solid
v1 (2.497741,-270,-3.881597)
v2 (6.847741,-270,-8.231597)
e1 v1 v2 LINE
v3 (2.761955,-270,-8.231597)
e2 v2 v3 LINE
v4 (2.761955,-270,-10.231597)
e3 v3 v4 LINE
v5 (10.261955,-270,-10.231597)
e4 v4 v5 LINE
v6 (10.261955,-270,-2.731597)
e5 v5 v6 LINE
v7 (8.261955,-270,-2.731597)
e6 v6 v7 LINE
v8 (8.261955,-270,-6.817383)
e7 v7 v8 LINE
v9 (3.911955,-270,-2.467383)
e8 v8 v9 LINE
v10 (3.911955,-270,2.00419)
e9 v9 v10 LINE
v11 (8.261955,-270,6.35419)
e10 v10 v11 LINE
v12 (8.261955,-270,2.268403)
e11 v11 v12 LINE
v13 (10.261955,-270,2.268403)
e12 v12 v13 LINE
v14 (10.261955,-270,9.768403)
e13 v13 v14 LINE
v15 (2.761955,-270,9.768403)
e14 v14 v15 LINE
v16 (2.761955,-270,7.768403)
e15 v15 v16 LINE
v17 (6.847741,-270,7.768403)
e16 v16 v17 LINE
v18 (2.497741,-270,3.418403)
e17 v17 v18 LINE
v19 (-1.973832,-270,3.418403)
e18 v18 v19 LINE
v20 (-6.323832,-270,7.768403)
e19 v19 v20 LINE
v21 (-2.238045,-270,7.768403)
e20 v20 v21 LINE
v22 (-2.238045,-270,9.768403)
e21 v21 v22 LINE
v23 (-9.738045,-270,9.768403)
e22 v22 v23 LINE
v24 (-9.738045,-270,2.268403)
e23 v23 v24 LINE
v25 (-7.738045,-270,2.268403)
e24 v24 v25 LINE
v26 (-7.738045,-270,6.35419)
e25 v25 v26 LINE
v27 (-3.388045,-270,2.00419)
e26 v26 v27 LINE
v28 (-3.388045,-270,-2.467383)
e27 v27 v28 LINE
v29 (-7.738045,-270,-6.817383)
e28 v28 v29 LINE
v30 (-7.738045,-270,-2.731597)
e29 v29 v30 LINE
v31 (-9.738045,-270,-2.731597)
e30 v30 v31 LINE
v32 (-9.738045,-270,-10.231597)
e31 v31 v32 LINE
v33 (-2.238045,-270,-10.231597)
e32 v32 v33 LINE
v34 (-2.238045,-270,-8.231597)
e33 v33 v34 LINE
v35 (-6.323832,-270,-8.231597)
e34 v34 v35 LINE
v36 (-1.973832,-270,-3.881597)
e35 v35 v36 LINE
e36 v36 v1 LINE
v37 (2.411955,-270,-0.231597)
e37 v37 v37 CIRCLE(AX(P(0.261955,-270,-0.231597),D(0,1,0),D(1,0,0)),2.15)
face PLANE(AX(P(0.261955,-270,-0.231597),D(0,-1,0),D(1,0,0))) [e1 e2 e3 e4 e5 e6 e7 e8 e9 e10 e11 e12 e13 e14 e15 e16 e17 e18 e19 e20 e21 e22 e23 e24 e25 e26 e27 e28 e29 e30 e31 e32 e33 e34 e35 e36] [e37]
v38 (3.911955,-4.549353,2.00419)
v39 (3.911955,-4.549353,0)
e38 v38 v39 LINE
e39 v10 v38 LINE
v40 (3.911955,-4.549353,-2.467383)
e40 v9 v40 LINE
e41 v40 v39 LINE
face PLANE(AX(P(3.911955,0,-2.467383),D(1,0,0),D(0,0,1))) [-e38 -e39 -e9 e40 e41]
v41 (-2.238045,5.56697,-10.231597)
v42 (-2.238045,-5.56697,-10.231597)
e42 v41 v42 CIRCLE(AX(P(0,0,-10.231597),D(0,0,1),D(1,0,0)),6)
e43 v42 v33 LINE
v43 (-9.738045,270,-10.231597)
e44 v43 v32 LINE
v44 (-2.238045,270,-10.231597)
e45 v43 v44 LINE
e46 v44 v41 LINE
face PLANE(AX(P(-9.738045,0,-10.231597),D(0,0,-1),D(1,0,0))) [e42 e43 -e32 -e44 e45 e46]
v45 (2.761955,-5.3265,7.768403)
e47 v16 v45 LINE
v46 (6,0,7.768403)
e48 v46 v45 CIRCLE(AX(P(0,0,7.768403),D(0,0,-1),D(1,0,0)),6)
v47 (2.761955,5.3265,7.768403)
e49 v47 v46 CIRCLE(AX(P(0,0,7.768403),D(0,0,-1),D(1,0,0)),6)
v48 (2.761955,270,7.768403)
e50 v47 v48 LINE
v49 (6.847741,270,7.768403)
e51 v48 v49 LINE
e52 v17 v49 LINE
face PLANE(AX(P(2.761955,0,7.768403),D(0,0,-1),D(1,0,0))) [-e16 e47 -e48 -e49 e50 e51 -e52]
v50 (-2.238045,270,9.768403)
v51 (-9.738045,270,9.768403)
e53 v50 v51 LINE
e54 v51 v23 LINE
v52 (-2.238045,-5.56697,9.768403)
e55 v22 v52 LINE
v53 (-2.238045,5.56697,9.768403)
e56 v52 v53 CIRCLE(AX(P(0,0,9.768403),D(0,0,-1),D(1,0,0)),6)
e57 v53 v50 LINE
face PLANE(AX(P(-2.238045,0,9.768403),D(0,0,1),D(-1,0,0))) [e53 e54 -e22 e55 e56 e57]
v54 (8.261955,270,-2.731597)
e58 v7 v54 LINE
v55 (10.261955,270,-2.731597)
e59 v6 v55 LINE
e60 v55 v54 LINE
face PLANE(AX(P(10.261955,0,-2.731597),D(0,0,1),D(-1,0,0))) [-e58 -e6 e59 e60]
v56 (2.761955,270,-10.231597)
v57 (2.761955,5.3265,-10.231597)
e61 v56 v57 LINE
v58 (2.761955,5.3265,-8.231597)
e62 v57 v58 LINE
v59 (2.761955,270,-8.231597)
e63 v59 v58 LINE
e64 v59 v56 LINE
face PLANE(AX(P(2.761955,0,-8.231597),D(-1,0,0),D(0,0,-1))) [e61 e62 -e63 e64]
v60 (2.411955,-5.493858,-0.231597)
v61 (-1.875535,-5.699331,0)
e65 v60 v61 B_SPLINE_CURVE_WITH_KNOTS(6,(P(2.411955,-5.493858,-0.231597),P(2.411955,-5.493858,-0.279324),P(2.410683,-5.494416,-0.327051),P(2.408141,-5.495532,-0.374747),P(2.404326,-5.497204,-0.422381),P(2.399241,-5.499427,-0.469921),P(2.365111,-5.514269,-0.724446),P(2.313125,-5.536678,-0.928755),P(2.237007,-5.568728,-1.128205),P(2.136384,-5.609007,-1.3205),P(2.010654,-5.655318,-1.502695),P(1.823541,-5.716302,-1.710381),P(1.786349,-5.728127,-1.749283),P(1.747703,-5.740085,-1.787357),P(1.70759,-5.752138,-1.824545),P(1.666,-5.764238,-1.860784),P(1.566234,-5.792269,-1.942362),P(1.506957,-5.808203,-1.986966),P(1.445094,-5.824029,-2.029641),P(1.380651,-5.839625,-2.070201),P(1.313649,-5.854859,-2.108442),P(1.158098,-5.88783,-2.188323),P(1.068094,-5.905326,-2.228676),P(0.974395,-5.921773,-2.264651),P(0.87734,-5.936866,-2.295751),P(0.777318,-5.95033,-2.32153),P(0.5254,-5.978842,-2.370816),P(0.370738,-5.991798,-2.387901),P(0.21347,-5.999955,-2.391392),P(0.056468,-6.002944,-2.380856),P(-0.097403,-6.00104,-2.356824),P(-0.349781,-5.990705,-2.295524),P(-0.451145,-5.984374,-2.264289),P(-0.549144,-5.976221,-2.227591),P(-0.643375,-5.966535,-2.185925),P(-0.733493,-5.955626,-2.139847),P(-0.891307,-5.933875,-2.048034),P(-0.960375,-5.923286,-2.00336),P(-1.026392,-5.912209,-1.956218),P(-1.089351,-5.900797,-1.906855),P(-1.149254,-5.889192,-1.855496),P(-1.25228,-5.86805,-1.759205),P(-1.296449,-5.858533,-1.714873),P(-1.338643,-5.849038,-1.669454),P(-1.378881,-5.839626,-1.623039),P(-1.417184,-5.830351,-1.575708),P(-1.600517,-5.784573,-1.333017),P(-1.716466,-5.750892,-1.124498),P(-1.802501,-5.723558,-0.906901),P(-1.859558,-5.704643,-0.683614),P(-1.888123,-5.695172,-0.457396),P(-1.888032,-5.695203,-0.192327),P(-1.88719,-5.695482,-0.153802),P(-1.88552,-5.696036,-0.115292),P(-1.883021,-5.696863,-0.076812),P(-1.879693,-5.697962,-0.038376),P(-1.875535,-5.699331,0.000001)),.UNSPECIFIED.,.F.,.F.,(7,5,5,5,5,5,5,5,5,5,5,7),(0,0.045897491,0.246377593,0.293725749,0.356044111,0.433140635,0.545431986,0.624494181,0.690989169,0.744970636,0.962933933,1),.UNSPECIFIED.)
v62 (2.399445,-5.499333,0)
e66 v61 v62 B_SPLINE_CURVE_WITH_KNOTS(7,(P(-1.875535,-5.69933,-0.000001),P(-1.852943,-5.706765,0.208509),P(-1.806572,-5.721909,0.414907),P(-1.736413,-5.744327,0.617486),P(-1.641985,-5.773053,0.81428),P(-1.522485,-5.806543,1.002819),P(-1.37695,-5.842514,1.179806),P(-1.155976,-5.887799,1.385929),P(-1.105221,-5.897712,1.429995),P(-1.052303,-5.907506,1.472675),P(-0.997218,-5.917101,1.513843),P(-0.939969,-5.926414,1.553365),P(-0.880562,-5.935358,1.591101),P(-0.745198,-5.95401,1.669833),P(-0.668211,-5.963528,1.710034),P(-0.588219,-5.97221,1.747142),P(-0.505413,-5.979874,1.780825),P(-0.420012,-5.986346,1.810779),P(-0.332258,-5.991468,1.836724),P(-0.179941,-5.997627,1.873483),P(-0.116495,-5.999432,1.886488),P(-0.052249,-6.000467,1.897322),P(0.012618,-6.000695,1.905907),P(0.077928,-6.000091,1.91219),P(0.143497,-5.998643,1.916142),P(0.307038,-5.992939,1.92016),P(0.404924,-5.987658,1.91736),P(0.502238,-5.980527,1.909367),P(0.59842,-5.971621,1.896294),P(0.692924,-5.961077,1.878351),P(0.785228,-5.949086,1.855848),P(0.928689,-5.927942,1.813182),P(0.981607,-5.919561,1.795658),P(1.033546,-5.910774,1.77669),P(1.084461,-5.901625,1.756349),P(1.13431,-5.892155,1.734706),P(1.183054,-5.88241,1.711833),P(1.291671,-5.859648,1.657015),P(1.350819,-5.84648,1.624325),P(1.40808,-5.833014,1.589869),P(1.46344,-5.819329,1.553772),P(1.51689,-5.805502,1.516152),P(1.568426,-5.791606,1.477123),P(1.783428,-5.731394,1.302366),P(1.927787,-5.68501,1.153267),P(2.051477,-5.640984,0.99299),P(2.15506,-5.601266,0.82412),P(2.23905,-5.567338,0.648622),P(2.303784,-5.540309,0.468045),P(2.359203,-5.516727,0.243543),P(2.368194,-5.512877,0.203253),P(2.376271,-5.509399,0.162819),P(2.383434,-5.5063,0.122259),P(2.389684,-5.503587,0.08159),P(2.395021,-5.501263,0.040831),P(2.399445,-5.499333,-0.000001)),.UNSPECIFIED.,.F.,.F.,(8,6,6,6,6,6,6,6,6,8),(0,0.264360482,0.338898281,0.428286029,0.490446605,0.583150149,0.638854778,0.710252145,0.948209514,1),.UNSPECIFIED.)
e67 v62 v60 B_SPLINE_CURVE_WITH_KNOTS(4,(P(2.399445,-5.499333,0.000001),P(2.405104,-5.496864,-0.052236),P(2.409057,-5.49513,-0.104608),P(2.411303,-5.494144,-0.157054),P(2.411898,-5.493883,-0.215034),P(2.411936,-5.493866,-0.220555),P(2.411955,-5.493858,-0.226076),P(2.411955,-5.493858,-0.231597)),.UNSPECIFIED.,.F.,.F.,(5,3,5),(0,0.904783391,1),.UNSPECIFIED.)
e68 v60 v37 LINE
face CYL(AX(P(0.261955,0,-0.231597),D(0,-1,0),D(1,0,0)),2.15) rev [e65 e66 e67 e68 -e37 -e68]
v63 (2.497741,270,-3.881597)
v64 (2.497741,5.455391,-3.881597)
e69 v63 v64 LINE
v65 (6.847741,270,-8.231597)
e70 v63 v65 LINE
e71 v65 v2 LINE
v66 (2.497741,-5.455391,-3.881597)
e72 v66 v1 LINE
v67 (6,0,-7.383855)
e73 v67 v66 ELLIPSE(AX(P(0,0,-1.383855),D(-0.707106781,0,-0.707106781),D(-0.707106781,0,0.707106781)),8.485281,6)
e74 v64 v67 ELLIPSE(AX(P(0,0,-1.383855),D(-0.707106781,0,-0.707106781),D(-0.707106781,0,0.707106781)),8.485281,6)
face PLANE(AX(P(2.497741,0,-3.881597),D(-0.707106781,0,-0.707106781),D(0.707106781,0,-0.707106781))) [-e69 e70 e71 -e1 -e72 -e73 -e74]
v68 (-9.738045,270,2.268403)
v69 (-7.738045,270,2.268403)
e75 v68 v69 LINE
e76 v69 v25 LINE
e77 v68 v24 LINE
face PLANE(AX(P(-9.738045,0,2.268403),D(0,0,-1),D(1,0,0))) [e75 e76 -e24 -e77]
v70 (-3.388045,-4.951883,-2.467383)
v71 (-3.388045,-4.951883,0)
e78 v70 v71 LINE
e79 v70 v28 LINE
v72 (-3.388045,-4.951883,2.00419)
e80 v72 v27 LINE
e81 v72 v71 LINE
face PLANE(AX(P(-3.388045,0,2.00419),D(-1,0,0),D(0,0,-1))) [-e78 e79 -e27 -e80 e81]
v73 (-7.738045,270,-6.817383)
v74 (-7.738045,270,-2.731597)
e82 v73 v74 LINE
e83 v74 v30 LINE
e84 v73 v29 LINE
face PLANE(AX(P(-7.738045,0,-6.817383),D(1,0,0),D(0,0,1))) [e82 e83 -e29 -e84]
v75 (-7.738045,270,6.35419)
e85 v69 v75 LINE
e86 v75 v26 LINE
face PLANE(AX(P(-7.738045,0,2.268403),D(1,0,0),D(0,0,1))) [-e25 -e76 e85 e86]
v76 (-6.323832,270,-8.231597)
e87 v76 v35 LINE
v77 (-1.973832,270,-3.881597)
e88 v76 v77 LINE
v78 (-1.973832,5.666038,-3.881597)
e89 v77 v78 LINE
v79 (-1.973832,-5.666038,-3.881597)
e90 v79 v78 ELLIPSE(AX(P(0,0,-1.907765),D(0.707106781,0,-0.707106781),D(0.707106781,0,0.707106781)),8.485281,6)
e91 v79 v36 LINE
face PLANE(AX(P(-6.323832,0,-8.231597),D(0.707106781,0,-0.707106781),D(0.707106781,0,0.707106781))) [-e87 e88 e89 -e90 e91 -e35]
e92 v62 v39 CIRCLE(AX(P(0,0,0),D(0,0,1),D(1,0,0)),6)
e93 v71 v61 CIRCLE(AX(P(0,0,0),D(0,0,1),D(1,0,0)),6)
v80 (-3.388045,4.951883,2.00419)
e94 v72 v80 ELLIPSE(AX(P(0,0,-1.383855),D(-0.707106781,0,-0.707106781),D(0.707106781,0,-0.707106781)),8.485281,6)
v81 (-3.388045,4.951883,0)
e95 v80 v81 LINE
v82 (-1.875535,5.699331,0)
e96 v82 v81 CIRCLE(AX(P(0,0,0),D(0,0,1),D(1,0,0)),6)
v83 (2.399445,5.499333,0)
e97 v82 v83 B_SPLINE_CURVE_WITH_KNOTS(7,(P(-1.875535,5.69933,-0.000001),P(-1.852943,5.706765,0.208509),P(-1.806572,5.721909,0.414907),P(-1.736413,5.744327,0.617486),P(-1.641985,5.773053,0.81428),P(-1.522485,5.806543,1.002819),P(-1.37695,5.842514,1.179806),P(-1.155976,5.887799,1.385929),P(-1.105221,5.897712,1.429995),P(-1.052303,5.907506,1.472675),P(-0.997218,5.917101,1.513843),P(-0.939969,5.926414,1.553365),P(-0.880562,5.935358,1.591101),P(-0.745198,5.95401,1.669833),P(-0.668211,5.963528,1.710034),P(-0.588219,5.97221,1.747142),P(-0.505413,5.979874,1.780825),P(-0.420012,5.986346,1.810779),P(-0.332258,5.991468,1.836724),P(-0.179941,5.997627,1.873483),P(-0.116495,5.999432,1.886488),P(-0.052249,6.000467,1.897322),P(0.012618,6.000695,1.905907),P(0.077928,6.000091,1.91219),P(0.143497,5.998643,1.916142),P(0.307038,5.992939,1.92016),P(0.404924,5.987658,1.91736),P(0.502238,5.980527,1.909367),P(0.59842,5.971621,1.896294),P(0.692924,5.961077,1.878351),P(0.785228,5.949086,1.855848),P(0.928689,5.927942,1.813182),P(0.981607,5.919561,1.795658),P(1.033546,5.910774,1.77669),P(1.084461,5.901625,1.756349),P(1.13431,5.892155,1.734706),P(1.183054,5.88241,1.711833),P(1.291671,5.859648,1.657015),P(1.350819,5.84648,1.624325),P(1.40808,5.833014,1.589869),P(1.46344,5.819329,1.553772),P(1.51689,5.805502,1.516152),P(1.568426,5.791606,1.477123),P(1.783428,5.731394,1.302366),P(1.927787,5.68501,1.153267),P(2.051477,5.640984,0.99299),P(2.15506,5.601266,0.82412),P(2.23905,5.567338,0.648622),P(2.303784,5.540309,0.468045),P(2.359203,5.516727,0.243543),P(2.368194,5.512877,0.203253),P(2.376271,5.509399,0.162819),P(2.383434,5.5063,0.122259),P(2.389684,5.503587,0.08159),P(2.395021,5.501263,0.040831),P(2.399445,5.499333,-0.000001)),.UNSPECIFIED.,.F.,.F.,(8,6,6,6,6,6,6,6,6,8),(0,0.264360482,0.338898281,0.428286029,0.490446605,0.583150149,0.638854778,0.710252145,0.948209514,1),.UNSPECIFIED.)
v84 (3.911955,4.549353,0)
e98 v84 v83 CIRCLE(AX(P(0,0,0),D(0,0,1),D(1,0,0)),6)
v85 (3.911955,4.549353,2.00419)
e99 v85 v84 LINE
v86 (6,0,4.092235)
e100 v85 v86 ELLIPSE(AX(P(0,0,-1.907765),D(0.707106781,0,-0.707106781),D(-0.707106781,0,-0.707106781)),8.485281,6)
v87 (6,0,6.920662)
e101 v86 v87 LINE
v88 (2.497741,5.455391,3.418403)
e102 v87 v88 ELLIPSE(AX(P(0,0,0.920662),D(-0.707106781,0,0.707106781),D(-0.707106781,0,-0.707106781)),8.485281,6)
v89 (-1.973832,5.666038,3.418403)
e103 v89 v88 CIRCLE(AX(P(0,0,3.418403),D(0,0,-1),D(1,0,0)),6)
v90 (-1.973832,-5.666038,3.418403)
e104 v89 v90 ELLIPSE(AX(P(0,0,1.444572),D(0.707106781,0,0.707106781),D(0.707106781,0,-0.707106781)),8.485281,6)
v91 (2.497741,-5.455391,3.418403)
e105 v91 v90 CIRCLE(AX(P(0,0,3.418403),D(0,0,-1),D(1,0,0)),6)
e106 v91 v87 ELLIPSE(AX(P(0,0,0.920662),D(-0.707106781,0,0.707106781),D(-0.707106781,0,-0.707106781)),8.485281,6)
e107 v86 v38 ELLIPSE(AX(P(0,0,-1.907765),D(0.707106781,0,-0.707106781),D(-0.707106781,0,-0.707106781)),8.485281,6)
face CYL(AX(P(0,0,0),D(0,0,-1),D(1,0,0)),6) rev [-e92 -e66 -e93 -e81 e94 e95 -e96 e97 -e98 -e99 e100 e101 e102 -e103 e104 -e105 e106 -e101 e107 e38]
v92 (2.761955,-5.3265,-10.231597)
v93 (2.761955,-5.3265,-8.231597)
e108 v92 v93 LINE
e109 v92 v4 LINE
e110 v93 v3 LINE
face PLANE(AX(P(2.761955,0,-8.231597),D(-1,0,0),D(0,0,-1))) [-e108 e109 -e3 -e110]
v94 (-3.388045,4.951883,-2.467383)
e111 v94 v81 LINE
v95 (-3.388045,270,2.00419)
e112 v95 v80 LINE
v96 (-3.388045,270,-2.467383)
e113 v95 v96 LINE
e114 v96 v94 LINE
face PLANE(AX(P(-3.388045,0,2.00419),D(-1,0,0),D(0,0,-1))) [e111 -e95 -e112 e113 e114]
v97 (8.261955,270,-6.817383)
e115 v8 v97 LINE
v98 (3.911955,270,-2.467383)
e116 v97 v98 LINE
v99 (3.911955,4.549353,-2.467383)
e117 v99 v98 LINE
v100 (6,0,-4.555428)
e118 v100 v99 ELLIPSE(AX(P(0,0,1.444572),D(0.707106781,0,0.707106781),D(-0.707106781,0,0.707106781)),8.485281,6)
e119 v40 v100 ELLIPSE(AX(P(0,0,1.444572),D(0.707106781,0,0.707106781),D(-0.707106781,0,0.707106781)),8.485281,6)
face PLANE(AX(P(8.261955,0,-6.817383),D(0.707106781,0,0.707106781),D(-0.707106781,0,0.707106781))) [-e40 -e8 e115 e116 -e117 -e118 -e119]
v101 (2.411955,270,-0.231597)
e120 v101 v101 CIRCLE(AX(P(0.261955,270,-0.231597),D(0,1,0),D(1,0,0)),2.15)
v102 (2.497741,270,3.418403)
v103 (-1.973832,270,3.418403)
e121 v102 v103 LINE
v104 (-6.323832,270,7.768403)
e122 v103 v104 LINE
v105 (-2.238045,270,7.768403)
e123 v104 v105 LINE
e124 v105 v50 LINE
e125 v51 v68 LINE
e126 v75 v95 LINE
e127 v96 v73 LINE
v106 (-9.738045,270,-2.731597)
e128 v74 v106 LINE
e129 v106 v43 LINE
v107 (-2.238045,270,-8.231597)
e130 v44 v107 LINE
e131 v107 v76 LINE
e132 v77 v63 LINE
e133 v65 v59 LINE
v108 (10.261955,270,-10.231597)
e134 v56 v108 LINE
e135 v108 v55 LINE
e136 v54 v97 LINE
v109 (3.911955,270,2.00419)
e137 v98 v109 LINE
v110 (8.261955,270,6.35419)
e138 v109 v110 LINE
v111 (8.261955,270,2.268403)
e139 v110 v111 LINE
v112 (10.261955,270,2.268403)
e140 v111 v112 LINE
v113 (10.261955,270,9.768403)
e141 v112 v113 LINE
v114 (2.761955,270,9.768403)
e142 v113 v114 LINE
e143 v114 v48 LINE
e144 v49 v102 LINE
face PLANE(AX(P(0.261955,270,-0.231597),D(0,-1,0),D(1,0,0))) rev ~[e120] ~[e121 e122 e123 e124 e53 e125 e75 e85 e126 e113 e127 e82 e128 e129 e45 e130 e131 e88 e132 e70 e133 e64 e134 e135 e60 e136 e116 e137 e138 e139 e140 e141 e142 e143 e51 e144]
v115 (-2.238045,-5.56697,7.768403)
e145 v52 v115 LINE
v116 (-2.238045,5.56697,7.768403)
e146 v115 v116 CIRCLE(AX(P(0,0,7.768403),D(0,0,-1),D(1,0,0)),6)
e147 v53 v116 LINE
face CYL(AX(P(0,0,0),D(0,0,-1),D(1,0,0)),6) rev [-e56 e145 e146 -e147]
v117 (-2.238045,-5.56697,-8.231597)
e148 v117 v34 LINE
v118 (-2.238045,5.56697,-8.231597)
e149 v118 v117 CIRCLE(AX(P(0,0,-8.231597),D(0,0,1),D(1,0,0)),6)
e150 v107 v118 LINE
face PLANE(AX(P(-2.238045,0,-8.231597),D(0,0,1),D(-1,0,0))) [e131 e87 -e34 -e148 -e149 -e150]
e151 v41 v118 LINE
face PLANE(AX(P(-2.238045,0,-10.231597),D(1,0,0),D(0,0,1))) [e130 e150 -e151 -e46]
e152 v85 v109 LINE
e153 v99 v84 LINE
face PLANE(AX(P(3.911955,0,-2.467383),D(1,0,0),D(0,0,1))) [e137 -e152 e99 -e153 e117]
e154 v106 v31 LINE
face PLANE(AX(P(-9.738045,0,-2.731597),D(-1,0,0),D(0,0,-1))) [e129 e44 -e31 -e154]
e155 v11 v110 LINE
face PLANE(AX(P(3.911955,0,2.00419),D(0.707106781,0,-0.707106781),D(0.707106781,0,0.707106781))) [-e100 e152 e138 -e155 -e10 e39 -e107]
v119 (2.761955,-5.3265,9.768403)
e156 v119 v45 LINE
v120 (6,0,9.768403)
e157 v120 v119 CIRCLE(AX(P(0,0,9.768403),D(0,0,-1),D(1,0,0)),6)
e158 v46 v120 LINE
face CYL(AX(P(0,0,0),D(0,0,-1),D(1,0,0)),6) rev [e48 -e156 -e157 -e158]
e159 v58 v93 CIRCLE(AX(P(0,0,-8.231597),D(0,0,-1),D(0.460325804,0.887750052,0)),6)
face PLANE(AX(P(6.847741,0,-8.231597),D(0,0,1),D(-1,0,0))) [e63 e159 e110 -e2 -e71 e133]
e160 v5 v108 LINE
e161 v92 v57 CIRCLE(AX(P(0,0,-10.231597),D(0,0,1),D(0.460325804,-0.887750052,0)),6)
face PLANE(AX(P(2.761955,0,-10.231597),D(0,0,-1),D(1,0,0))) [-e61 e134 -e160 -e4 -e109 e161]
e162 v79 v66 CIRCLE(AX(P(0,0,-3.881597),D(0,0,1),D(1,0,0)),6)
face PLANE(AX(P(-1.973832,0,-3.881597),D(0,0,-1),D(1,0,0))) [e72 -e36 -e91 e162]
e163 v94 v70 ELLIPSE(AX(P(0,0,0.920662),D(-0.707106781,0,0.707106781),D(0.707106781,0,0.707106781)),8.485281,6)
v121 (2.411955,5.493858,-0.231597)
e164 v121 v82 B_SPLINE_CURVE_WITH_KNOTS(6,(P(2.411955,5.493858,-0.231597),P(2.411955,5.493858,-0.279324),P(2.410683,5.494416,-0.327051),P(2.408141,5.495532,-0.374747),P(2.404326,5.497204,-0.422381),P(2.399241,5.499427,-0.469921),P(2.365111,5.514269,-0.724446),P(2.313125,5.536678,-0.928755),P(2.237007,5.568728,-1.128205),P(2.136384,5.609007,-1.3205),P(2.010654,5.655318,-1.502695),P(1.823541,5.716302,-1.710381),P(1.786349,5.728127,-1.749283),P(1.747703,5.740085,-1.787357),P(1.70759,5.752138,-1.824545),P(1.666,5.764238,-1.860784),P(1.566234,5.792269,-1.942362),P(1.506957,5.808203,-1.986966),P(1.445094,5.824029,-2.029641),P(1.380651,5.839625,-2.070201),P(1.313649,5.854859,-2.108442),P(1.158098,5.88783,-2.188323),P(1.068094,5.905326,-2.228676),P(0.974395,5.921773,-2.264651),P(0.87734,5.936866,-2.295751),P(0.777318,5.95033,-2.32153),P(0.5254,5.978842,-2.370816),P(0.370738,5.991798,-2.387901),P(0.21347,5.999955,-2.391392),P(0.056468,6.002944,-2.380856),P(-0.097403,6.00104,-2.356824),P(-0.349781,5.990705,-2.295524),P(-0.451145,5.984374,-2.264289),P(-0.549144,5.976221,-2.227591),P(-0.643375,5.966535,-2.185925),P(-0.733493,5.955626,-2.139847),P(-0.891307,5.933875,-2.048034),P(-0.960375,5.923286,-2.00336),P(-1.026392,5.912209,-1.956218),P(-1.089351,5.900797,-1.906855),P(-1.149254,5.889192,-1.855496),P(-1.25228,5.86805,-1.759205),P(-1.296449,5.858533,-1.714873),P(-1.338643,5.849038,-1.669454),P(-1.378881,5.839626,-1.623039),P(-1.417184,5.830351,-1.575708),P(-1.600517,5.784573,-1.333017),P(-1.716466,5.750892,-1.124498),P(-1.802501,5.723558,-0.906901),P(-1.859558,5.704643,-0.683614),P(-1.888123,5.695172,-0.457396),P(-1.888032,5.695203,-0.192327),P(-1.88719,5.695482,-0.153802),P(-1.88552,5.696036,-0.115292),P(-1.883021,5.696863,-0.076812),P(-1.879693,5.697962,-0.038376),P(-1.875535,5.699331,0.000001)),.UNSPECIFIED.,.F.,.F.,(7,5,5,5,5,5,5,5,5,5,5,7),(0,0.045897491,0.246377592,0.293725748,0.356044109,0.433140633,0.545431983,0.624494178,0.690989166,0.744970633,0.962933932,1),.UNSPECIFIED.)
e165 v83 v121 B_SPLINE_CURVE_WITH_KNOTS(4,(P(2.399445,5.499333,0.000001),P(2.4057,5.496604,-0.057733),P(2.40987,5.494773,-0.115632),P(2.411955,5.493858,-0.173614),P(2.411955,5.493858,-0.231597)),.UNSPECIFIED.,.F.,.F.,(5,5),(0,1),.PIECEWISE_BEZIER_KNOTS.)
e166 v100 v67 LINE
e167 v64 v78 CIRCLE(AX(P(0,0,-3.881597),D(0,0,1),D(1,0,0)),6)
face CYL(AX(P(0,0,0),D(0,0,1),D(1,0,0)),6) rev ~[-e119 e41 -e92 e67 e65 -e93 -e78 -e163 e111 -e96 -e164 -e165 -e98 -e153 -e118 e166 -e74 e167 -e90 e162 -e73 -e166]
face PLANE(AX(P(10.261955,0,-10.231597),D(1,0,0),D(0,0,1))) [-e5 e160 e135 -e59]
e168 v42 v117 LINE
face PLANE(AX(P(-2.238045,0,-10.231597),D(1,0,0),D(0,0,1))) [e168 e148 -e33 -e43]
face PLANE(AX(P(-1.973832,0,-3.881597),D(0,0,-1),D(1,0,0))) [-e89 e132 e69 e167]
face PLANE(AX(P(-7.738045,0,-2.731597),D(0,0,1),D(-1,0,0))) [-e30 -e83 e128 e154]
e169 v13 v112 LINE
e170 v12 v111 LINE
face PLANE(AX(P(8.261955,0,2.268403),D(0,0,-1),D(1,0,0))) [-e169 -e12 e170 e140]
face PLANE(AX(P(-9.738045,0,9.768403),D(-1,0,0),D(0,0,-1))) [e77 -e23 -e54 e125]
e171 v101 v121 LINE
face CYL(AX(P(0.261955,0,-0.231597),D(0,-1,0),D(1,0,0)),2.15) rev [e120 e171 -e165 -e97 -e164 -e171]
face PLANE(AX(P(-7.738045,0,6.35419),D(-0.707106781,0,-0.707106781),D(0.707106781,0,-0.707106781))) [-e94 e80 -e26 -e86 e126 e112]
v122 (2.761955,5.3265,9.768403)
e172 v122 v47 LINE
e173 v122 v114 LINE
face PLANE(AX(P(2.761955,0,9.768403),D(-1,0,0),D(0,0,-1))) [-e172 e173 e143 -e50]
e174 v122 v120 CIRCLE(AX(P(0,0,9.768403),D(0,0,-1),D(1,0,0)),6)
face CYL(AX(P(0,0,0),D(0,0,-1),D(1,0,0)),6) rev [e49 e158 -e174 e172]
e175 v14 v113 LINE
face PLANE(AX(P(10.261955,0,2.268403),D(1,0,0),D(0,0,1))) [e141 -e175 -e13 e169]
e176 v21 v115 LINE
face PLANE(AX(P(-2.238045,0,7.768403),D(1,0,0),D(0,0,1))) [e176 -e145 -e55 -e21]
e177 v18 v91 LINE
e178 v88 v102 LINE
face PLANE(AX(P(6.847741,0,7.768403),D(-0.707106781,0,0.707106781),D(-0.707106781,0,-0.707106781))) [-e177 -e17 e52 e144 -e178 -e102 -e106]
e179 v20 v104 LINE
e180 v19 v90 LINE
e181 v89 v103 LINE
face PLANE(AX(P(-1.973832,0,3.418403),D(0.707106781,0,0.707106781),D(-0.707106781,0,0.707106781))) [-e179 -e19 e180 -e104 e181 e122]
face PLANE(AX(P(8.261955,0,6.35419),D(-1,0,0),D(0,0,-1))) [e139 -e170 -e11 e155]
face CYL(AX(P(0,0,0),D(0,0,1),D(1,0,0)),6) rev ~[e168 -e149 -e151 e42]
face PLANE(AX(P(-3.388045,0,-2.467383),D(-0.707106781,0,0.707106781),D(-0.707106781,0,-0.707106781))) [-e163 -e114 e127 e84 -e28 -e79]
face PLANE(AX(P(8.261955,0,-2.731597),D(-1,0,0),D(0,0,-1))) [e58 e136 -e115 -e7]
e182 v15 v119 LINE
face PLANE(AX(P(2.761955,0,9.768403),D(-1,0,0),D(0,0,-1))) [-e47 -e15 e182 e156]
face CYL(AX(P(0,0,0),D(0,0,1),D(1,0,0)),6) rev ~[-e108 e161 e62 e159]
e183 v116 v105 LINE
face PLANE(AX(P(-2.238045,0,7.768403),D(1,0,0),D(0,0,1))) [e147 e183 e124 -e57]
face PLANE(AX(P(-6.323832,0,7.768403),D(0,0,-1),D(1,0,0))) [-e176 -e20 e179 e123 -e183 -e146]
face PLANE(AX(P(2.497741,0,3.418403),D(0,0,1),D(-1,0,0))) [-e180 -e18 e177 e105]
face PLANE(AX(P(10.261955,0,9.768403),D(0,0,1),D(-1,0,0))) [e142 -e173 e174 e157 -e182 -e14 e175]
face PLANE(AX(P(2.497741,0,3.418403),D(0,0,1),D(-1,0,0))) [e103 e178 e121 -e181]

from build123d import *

# Parameters (mm, degrees)
F1_DEPTH      = 270
F1_DEPTH_BACK = 270
F2_R          = 6
F3_DEPTH      = 25
F3_DEPTH_BACK = 25


with BuildPart() as f1:
    # F0 (on Front) → F1 (new body, two sides)
    with BuildSketch(Plane.XZ) as f1_sk:
        Polygon((-2.2380451747, 9.7684033074), (-9.7380451747, 9.7684033074), (-9.7380451747, 2.2684033074), (-7.7380451747, 2.2684033074), (-7.7380451747, 6.354189745), (-3.3880451747, 2.004189745), (-3.3880451747, -0.2315966926), (-3.3880451747, -2.4673831302), (-7.7380451747, -6.8173831302), (-7.7380451747, -2.7315966926), (-9.7380451747, -2.7315966926), (-9.7380451747, -10.2315966926), (-2.2380451747, -10.2315966926), (-2.2380451747, -8.2315966926), (-6.3238316124, -8.2315966926), (-1.9738316124, -3.8815966926), (2.4977412629, -3.8815966926), (6.8477412629, -8.2315966926), (2.7619548253, -8.2315966926), (2.7619548253, -10.2315966926), (10.2619548253, -10.2315966926), (10.2619548253, -2.7315966926), (8.2619548253, -2.7315966926), (8.2619548253, -6.8173831302), (3.9119548253, -2.4673831302), (3.9119548253, -0.2315966926), (3.9119548253, 2.004189745), (8.2619548253, 6.354189745), (8.2619548253, 2.2684033074), (10.2619548253, 2.2684033074), (10.2619548253, 9.7684033074), (2.7619548253, 9.7684033074), (2.7619548253, 7.7684033074), (6.8477412629, 7.7684033074), (2.4977412629, 3.4184033074), (-1.9738316124, 3.4184033074), (-6.3238316124, 7.7684033074), (-2.2380451747, 7.7684033074), align=None)
        with BuildLine():
            ThreePointArc((-1.8880451747, -0.2315966926), (0.2619548253, 1.9184033074), (2.4119548253, -0.2315966926))
            ThreePointArc((2.4119548253, -0.2315966926), (0.2619548253, -2.3815966926), (-1.8880451747, -0.2315966926))
        make_face(mode=Mode.SUBTRACT)
    extrude(amount=F1_DEPTH)
    extrude(f1_sk.sketch, amount=-F1_DEPTH_BACK)

    # F2 (on Top) → F3 (cut, two sides)
    with BuildSketch(Plane.XY) as f3_sk:
        Circle(F2_R)
    extrude(amount=-F3_DEPTH, mode=Mode.SUBTRACT)
    extrude(f3_sk.sketch, amount=F3_DEPTH_BACK, mode=Mode.SUBTRACT)


solid = f1.part
